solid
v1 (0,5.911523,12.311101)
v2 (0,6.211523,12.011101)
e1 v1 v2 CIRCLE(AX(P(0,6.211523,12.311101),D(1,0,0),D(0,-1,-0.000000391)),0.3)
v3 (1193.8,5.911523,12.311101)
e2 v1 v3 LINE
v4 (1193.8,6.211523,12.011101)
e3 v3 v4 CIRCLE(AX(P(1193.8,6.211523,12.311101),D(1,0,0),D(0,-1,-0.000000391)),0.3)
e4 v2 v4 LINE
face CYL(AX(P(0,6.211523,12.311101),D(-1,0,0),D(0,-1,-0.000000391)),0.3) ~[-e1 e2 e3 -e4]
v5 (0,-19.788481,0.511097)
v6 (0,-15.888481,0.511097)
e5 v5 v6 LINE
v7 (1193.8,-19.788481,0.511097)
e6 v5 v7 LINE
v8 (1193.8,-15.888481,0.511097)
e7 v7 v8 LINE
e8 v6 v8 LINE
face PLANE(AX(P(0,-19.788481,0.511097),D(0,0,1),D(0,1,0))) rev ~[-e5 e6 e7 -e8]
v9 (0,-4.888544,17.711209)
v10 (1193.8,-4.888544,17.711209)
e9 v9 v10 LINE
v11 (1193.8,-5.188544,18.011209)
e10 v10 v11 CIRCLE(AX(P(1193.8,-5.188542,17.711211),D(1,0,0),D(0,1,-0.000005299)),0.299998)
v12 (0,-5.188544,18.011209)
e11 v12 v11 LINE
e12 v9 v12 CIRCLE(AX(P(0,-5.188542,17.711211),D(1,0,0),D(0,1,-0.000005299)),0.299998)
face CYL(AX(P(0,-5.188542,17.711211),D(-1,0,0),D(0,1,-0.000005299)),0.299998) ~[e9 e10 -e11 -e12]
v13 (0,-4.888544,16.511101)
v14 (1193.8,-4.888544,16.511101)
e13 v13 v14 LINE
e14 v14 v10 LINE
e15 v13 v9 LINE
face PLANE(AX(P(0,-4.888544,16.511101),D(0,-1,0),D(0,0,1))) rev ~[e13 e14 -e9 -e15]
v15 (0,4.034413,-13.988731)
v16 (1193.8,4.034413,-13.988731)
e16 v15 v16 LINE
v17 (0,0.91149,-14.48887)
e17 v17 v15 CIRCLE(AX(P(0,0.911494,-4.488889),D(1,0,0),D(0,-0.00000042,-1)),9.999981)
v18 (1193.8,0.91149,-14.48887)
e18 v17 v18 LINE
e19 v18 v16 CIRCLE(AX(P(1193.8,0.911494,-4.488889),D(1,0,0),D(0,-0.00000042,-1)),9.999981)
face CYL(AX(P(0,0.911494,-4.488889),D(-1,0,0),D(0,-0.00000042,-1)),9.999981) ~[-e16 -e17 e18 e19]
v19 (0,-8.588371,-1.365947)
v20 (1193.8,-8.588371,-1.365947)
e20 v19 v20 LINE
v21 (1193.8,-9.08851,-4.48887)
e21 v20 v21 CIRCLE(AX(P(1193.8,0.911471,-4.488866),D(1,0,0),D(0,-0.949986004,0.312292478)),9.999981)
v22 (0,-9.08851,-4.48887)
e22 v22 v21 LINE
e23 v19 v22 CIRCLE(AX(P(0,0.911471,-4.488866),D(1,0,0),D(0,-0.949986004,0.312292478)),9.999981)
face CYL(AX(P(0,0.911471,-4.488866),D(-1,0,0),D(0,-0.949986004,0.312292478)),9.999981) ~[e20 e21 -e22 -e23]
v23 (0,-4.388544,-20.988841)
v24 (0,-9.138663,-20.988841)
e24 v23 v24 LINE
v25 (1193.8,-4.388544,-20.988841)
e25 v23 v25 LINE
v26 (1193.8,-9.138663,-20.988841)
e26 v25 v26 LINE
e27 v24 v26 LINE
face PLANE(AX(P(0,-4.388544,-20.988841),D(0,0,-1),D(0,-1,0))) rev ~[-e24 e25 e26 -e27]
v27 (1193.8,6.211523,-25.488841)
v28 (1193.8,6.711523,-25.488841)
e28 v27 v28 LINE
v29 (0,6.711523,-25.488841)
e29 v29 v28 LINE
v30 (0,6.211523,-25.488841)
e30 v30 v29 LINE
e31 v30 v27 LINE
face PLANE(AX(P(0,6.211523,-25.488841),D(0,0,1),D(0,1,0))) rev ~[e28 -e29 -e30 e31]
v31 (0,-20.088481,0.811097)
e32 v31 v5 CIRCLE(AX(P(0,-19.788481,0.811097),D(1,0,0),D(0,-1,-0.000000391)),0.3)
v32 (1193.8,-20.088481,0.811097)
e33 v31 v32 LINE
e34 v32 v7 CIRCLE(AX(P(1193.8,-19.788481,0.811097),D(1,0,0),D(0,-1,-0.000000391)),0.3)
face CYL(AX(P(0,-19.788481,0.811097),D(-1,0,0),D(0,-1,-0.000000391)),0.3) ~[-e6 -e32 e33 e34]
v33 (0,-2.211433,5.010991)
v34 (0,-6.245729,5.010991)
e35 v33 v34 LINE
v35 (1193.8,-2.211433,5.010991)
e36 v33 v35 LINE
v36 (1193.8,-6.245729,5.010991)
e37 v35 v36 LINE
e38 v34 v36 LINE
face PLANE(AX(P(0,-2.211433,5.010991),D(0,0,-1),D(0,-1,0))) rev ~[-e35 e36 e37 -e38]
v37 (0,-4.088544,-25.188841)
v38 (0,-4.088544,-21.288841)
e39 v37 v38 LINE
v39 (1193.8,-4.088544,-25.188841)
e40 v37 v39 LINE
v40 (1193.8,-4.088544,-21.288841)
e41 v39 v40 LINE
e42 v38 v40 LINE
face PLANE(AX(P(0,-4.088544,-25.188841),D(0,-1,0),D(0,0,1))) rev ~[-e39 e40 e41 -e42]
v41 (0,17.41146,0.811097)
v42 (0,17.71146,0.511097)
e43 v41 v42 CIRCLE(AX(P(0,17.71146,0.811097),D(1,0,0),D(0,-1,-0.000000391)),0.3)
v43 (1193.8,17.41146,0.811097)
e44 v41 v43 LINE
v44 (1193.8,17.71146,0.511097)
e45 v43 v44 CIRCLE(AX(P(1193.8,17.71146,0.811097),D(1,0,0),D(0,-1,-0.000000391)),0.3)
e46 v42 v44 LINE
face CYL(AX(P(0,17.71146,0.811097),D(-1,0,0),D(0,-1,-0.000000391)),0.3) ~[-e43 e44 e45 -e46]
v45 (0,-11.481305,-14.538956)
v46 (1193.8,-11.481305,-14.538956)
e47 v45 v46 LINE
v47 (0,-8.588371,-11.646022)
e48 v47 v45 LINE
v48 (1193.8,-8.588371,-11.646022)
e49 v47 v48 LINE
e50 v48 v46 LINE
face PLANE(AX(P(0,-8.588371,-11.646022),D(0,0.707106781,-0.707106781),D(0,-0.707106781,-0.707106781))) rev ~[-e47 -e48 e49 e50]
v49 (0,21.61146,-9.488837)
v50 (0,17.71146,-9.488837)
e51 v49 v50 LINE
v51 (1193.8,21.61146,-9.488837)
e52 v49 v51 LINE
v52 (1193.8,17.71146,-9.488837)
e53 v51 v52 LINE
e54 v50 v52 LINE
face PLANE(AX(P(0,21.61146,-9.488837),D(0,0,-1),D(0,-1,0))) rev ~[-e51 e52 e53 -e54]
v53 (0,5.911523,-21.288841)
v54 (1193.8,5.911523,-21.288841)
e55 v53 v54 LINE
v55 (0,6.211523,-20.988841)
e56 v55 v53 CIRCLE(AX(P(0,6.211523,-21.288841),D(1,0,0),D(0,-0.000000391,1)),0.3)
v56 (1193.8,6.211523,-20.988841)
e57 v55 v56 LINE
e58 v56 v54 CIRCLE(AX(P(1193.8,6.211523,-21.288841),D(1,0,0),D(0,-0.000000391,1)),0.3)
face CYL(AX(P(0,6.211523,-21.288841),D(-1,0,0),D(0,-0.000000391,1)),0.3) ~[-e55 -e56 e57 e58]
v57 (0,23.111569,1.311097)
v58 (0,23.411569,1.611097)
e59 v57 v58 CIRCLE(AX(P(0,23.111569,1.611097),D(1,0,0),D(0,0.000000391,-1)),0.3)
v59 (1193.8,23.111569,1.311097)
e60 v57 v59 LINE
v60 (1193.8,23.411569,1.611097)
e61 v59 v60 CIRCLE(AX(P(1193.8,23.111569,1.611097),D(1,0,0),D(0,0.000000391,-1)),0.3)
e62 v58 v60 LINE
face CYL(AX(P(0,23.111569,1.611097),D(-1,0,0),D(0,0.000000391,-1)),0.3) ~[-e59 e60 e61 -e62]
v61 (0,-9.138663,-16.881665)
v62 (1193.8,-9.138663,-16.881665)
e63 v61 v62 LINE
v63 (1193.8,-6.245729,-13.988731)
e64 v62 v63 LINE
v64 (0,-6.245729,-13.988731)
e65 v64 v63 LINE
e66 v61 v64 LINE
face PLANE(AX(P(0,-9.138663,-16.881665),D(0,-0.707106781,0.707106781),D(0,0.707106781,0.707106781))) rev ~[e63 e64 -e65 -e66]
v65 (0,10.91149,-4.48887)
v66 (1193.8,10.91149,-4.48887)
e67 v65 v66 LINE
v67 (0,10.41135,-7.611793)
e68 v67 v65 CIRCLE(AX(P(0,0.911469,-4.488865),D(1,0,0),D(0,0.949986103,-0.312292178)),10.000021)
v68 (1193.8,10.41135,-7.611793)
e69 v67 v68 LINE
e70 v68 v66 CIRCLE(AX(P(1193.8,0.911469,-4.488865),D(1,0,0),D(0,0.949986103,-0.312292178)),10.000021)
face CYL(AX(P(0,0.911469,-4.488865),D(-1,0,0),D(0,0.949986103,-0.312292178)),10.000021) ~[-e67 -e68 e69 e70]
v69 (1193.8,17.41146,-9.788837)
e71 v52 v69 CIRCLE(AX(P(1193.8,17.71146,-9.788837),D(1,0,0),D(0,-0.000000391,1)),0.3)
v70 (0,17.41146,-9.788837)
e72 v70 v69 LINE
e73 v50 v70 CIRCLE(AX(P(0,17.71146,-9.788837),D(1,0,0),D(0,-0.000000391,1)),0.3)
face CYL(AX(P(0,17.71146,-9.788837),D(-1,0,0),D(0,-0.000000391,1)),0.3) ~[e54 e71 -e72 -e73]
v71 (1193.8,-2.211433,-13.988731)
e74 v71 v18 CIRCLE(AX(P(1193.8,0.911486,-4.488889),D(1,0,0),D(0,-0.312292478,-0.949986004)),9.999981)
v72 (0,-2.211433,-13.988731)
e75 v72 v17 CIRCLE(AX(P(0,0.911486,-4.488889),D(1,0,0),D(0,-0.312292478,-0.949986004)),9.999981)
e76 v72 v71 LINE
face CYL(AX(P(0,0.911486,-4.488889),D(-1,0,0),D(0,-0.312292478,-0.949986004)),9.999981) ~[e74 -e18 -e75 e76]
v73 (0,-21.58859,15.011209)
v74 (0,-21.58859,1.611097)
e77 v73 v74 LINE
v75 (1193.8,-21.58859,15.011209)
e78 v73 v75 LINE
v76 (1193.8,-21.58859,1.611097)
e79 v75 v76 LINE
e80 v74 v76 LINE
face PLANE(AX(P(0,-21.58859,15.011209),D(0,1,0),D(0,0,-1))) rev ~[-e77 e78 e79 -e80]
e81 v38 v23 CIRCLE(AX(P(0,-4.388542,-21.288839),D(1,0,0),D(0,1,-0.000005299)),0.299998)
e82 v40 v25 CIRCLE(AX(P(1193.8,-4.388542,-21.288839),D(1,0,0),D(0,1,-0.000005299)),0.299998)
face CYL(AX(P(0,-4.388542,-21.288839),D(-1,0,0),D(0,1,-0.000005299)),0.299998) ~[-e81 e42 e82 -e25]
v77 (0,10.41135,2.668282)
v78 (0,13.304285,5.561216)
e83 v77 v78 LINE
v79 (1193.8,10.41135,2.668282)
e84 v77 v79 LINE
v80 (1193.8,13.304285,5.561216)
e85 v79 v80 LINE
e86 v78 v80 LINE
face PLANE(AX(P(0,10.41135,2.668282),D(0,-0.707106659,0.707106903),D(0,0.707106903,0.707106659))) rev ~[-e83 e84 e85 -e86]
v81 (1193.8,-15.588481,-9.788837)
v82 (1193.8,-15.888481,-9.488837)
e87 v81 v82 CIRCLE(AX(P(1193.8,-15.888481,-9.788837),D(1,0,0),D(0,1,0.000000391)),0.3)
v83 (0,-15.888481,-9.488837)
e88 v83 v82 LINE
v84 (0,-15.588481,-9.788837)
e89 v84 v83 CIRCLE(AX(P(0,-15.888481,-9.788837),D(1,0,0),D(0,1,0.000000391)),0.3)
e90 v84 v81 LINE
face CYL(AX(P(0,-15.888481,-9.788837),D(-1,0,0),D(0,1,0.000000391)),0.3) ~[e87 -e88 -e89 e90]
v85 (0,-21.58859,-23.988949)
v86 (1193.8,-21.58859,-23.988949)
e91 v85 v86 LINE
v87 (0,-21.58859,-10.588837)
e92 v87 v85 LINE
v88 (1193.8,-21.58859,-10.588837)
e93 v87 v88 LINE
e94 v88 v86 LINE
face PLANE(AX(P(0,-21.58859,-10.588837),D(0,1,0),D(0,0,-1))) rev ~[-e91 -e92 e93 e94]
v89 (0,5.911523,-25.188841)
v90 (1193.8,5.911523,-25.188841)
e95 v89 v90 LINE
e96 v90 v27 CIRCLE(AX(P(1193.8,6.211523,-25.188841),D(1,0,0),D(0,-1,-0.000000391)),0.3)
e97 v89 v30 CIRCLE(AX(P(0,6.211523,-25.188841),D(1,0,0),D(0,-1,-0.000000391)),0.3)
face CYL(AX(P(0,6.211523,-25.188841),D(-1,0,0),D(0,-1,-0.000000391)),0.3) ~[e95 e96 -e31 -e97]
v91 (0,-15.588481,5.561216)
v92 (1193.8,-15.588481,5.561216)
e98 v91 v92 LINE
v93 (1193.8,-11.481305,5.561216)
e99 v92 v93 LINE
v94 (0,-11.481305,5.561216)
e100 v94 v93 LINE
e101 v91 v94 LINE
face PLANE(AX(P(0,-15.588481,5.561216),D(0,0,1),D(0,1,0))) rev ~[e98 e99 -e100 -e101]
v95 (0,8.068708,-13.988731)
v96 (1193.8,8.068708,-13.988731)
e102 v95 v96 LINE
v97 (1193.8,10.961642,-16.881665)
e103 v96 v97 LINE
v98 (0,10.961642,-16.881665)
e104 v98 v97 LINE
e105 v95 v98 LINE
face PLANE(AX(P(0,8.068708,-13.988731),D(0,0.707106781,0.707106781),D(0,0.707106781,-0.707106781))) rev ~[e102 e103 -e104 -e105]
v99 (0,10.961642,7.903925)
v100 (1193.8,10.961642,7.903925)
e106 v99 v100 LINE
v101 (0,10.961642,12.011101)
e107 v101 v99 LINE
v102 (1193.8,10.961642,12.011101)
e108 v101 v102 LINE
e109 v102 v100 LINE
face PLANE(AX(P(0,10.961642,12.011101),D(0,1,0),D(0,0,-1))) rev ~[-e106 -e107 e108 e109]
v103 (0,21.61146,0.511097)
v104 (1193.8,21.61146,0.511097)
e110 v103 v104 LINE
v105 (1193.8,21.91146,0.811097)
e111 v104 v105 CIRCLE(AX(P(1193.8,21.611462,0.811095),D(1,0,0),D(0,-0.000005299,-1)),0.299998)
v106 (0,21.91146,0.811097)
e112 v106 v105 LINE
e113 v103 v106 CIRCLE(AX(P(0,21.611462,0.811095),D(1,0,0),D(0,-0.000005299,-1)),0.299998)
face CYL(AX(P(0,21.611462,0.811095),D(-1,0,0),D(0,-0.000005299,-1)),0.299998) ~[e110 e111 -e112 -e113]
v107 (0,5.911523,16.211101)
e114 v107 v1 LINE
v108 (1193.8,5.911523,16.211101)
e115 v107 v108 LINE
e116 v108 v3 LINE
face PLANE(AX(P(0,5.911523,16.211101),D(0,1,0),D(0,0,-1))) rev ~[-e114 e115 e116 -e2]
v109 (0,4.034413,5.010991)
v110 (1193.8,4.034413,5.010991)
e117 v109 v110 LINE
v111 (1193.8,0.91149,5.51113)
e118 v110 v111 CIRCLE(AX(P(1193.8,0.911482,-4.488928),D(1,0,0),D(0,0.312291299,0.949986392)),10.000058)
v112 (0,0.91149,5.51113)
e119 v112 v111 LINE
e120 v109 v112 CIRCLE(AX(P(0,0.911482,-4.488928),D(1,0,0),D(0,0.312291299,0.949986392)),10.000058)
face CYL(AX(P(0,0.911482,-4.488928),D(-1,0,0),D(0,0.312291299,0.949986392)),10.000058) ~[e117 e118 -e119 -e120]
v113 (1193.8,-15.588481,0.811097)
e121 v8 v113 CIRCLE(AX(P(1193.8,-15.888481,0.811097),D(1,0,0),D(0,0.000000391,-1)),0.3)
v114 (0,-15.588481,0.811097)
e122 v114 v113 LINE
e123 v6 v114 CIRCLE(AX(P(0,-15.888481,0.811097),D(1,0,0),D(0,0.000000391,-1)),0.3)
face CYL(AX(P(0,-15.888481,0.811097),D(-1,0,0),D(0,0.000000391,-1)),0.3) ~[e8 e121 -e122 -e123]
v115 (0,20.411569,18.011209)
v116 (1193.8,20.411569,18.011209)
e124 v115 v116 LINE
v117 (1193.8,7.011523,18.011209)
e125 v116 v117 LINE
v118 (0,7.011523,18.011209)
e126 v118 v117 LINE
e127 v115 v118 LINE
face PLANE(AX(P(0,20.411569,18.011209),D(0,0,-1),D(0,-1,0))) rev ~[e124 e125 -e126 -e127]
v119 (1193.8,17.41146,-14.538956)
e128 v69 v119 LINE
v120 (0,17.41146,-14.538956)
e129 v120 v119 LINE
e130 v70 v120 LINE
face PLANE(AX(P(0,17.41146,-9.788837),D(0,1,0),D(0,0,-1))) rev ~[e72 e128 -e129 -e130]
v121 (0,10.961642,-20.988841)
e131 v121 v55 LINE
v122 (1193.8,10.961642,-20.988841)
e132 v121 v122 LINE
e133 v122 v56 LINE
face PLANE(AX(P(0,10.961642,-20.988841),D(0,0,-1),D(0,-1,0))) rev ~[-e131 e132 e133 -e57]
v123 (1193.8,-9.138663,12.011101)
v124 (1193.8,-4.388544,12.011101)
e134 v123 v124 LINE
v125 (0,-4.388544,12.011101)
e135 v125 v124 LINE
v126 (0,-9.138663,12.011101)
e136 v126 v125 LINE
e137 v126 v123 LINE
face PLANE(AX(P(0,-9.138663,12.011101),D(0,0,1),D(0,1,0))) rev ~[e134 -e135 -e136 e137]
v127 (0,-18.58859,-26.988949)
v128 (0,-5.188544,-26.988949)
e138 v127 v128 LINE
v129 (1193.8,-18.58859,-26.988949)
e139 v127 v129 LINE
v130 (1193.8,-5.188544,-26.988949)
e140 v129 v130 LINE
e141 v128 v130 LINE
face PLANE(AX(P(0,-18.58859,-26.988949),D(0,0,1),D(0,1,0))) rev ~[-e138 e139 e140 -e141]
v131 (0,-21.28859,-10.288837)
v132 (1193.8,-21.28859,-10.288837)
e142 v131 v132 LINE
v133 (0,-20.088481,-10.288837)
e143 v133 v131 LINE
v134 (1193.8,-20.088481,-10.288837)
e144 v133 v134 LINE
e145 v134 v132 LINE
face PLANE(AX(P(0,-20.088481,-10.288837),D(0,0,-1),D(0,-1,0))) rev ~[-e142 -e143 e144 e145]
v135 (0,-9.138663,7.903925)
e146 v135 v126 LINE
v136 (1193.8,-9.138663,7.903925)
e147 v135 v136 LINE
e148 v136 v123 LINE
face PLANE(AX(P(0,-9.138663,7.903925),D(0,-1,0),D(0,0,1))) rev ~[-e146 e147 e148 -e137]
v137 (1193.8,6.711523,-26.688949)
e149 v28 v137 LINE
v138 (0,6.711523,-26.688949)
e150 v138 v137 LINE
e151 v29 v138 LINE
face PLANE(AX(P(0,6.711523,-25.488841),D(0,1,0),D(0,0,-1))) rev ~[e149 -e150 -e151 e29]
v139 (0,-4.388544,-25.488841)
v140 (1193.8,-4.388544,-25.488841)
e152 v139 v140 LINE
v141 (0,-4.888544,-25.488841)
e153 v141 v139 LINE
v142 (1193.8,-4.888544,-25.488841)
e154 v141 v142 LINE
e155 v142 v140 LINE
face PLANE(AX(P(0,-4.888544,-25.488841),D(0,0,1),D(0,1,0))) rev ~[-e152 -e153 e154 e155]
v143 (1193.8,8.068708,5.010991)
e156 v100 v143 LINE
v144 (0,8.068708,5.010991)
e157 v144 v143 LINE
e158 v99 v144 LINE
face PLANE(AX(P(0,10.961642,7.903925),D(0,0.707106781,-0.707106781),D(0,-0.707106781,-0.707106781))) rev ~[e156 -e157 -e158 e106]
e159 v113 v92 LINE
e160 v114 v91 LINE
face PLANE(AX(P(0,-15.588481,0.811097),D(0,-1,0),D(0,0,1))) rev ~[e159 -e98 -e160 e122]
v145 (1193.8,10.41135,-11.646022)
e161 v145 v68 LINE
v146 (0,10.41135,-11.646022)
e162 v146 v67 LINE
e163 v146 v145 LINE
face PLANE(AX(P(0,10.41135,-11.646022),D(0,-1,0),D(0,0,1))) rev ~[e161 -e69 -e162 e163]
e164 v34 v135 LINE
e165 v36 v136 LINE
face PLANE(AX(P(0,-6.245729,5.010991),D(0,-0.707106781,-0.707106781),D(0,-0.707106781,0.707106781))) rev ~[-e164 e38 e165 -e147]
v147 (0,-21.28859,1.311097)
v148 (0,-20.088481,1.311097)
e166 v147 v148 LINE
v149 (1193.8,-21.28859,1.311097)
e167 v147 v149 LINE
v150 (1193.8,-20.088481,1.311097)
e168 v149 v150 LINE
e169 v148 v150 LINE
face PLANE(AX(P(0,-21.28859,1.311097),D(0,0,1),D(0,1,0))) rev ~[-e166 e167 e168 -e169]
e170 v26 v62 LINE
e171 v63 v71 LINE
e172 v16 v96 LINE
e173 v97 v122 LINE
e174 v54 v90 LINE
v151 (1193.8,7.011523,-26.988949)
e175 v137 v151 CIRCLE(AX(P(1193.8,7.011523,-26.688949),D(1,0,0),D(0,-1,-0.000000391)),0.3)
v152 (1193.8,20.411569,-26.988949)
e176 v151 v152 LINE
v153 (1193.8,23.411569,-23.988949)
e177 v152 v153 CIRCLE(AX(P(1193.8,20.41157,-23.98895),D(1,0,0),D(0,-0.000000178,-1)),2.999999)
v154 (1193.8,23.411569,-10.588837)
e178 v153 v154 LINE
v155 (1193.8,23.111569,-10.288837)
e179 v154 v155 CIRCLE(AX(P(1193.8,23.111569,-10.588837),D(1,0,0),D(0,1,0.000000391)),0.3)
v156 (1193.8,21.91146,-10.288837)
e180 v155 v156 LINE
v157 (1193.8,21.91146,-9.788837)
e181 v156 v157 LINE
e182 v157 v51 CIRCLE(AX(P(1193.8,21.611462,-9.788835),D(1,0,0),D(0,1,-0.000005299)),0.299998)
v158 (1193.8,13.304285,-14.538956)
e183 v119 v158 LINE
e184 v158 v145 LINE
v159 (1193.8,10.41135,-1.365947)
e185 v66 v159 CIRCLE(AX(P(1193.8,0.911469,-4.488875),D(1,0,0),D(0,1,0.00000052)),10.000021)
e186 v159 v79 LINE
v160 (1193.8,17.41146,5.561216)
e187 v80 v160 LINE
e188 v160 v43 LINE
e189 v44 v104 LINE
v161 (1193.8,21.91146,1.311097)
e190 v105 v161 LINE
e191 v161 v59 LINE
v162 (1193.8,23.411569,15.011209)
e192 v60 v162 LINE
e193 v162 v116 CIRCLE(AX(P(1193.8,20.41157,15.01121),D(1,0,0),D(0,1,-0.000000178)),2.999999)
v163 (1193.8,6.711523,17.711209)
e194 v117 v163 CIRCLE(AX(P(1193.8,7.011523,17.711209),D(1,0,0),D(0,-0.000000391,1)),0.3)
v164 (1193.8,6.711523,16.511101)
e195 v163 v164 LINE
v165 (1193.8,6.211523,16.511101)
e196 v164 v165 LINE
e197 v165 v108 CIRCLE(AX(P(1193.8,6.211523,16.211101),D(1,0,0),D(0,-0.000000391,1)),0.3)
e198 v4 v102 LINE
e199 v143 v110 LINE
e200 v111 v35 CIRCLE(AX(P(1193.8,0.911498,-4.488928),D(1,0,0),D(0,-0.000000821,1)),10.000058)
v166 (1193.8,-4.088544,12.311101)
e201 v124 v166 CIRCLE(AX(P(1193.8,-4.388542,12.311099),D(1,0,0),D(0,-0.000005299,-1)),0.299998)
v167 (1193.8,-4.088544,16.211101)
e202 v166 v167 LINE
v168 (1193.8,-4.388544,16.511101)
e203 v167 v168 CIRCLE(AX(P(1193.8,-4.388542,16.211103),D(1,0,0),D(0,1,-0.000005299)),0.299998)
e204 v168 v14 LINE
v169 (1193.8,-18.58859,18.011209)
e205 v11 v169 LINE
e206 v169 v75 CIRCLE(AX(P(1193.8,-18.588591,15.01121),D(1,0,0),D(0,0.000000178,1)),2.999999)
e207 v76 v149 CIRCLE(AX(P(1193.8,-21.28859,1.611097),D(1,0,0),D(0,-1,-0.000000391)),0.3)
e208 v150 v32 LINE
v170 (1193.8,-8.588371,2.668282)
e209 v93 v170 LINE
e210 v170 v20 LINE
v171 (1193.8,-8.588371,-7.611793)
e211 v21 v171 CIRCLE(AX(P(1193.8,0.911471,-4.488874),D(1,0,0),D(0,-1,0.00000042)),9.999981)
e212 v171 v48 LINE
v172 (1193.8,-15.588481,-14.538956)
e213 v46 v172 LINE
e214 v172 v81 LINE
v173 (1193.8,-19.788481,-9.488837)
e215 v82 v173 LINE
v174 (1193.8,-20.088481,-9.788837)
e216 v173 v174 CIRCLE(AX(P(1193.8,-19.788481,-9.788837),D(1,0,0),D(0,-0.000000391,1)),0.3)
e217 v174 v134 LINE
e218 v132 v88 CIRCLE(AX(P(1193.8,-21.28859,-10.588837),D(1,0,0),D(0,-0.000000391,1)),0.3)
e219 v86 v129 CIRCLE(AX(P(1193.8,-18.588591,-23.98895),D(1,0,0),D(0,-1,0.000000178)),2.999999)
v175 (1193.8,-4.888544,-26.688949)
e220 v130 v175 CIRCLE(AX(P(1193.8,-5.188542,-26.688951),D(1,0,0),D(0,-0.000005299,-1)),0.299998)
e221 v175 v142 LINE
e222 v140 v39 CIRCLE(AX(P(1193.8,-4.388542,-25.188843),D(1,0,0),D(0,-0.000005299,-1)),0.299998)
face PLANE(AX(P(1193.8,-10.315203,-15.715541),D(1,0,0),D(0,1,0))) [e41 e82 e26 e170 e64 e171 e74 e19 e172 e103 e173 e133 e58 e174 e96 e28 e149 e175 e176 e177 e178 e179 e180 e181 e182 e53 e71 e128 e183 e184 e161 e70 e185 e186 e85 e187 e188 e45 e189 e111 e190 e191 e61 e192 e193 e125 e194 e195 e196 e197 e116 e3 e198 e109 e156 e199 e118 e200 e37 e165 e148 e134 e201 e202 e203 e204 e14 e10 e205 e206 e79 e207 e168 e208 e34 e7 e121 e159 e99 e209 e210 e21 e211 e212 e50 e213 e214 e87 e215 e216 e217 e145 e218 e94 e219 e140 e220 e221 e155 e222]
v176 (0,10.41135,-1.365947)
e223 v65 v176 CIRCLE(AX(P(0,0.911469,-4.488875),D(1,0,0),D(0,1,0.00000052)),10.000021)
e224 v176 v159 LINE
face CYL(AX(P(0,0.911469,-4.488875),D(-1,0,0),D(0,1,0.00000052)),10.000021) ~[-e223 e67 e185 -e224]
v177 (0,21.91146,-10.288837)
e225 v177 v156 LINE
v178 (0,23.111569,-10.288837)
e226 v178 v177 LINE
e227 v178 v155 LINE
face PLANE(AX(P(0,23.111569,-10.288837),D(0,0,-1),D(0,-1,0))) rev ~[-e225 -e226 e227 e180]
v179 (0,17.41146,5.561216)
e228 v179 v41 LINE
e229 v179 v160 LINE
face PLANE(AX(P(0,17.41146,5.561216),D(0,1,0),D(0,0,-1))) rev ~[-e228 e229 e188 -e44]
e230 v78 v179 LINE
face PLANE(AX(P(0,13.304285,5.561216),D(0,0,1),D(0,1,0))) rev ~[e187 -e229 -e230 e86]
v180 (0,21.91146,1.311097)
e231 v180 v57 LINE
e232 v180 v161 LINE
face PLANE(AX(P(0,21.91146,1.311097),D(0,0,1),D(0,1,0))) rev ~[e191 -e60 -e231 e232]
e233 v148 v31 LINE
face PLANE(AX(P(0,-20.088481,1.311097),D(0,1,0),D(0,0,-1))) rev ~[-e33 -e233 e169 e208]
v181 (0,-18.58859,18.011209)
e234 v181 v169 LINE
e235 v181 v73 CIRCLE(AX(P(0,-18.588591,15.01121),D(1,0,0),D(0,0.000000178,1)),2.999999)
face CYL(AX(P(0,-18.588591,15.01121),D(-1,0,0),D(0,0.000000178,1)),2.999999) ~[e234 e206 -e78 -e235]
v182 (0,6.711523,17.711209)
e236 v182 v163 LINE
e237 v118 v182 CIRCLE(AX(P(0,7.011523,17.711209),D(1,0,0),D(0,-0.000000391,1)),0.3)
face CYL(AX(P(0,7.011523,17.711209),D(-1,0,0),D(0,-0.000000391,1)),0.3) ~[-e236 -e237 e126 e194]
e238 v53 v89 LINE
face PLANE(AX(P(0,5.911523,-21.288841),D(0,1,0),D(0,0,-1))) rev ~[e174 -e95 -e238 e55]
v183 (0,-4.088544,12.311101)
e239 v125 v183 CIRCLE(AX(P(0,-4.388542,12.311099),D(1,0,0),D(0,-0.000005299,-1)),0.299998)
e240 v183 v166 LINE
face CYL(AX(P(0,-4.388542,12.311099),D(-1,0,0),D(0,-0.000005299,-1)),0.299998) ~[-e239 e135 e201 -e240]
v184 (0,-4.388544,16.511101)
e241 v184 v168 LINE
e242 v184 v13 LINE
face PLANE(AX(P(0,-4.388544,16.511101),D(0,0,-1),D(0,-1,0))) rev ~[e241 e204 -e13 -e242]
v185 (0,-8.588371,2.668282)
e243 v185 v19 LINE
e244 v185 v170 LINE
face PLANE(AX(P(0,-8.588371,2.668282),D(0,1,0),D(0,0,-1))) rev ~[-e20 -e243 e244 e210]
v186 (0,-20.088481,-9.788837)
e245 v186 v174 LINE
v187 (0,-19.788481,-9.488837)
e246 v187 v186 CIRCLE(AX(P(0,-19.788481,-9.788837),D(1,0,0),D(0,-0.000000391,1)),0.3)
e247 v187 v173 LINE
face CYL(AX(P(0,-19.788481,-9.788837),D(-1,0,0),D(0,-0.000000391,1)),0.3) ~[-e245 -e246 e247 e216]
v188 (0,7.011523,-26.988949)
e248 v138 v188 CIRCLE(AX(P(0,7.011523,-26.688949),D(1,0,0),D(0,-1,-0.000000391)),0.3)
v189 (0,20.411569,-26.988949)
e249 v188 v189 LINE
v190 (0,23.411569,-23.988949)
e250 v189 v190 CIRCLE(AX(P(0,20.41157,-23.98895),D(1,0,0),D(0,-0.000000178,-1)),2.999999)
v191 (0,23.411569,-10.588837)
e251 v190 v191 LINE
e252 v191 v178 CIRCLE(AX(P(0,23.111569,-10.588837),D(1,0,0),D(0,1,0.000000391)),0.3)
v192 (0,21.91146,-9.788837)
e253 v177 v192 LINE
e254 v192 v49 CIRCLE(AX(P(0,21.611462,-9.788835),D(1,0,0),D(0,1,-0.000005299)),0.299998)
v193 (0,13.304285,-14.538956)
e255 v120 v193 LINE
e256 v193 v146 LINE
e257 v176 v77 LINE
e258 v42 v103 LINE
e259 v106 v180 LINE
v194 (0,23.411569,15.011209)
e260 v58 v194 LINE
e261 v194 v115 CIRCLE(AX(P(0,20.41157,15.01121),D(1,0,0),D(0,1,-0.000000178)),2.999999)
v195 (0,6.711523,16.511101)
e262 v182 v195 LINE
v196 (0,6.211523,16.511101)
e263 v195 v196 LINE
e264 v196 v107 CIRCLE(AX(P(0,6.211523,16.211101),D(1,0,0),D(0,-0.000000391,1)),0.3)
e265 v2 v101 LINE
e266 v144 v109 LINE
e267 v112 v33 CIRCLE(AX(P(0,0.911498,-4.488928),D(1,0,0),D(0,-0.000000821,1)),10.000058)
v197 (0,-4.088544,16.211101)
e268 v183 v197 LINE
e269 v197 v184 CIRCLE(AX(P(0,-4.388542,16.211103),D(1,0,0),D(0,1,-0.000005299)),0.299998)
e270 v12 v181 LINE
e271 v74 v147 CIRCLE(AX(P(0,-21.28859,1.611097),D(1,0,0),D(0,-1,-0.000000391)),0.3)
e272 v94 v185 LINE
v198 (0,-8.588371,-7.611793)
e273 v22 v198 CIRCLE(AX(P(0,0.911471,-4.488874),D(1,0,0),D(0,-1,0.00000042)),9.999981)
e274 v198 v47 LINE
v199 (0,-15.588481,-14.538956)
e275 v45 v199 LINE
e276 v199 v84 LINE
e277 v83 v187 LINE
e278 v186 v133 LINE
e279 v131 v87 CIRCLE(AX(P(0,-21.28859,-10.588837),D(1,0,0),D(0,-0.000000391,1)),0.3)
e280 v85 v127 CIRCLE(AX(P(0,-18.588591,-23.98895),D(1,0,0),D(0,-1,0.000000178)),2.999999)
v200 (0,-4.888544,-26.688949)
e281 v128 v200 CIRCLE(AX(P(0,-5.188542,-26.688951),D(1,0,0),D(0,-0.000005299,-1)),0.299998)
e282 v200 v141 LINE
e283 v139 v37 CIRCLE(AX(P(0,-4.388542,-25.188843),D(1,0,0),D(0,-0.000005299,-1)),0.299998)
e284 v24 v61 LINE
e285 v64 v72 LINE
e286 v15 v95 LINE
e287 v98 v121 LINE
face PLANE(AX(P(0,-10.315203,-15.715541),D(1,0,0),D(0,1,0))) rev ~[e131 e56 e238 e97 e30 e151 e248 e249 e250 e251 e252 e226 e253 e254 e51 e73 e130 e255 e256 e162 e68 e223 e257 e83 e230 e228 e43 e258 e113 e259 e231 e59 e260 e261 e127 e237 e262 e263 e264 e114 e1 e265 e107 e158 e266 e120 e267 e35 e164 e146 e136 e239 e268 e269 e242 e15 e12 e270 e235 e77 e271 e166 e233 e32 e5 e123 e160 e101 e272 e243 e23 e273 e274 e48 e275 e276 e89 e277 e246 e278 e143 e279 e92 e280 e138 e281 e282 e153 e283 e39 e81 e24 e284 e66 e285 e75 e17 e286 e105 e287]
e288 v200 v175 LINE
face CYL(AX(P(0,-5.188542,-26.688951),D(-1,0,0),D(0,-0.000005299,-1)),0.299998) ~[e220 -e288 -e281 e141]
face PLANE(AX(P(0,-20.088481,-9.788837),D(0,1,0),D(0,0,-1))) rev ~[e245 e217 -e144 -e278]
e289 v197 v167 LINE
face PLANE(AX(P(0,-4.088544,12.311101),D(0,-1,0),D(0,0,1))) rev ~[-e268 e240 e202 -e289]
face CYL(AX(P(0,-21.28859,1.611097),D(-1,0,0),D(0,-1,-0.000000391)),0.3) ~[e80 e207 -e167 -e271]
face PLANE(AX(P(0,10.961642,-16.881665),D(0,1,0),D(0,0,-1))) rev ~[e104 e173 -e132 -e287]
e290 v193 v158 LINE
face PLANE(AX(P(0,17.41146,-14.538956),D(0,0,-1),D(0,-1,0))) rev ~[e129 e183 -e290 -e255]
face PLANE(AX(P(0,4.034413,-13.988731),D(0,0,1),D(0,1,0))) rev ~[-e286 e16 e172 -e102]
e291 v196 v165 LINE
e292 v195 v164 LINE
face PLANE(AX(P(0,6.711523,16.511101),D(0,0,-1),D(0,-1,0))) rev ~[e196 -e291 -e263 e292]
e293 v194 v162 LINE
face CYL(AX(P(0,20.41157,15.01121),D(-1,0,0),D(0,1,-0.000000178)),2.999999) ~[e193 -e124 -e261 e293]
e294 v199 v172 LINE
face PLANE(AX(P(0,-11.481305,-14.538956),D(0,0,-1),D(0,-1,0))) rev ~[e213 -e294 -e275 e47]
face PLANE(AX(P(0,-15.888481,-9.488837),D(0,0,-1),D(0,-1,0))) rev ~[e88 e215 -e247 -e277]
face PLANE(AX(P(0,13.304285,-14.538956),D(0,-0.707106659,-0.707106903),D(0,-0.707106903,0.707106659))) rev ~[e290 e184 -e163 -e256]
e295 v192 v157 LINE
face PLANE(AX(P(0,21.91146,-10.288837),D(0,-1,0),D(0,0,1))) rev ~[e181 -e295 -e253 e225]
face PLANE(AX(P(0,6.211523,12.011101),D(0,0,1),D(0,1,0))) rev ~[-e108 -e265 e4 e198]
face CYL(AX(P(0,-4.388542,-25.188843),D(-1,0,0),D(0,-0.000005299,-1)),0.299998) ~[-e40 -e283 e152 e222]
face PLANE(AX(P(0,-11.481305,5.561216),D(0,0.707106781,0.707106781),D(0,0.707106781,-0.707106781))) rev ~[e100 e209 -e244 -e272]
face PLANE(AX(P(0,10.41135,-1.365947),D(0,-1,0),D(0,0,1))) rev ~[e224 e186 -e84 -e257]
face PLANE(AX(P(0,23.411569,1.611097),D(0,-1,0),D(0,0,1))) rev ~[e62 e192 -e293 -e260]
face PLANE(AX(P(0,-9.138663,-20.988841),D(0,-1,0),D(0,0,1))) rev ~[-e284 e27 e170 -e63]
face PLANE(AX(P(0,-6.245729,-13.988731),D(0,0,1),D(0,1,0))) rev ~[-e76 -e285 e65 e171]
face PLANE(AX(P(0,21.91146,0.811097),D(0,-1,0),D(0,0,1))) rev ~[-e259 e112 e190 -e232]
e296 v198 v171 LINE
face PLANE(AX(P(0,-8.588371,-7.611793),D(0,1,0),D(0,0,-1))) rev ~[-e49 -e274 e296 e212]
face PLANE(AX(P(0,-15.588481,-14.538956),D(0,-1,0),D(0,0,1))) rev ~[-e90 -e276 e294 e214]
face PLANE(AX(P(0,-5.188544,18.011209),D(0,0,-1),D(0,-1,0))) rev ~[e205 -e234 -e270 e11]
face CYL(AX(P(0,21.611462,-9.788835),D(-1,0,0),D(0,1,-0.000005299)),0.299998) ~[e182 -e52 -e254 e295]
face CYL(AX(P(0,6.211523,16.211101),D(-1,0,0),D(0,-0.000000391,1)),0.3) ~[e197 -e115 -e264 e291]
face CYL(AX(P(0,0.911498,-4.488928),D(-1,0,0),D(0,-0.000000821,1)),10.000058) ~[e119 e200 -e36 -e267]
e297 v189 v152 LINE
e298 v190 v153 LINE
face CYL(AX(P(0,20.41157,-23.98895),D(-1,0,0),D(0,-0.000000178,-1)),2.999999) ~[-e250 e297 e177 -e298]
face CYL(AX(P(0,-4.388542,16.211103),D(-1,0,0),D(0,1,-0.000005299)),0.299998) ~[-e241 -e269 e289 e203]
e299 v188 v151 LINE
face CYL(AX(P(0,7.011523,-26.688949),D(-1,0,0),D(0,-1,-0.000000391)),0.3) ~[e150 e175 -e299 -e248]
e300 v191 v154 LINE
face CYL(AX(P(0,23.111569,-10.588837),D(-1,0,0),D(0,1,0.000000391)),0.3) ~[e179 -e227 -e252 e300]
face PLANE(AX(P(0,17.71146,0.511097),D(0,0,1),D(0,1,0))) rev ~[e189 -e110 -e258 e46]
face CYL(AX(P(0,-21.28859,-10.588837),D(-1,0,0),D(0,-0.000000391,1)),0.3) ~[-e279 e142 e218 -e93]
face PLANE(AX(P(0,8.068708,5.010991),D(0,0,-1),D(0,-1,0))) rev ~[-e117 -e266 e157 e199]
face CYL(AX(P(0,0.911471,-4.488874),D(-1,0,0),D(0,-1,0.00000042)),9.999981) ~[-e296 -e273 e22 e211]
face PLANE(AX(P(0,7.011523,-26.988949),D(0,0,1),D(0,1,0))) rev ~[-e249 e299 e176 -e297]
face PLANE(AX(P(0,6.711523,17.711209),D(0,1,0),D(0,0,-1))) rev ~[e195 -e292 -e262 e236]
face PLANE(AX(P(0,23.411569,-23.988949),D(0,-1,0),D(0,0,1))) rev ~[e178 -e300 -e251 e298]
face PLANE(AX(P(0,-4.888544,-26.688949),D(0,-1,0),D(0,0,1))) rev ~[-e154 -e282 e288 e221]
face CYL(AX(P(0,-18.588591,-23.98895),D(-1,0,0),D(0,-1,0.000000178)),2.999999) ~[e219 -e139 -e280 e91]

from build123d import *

# Parameters (mm, degrees)
F1_DEPTH = 1193.8


with BuildPart() as f1:
    # F0 (on Right) → F1 (new body)
    with BuildSketch(Plane.YZ):
        with BuildLine():
            Line((-20.088481, -9.788837), (-20.088481, -10.288837))
            Line((-20.088481, -10.288837), (-21.28859, -10.288837))
            ThreePointArc((-21.28859, -10.288837), (-21.500722, -10.376705), (-21.58859, -10.588837))
            Line((-21.58859, -10.588837), (-21.58859, -23.988949))
            ThreePointArc((-21.58859, -23.988949), (-20.70991, -26.11027), (-18.58859, -26.988949))
            Line((-18.58859, -26.988949), (-5.188544, -26.988949))
            ThreePointArc((-5.188544, -26.988949), (-4.976411, -26.901081), (-4.888544, -26.688949))
            Line((-4.888544, -26.688949), (-4.888544, -25.488841))
            Line((-4.888544, -25.488841), (-4.388544, -25.488841))
            ThreePointArc((-4.388544, -25.488841), (-4.176411, -25.400973), (-4.088544, -25.188841))
            Line((-4.088544, -25.188841), (-4.088544, -21.288841))
            ThreePointArc((-4.088544, -21.288841), (-4.176411, -21.076709), (-4.388544, -20.988841))
            Line((-4.388544, -20.988841), (-9.138663, -20.988841))
            Line((-9.138663, -20.988841), (-9.138663, -16.881665))
            Line((-9.138663, -16.881665), (-6.245729, -13.988731))
            Line((-6.245729, -13.988731), (-2.211433, -13.988731))
            ThreePointArc((-2.211433, -13.988731), (-0.669869, -14.363044), (0.91149, -14.48887))
            Line((0.91149, -14.48887), (0.91149, -4.48887))
            Line((0.91149, -4.48887), (-9.08851, -4.48887))
            ThreePointArc((-9.08851, -4.48887), (-8.962684, -6.070229), (-8.588371, -7.611793))
            Line((-8.588371, -7.611793), (-8.588371, -11.646022))
            Line((-8.588371, -11.646022), (-11.481305, -14.538956))
            Line((-11.481305, -14.538956), (-15.588481, -14.538956))
            Line((-15.588481, -14.538956), (-15.588481, -9.788837))
            ThreePointArc((-15.588481, -9.788837), (-15.676349, -9.576705), (-15.888481, -9.488837))
            Line((-15.888481, -9.488837), (-19.788481, -9.488837))
            ThreePointArc((-19.788481, -9.488837), (-20.000613, -9.576705), (-20.088481, -9.788837))
        make_face()
        with BuildLine():
            ThreePointArc((-8.588371, -1.365947), (-8.962684, -2.907511), (-9.08851, -4.48887))
            Line((-9.08851, -4.48887), (0.91149, -4.48887))
            Line((0.91149, -4.48887), (0.91149, 5.51113))
            ThreePointArc((0.91149, 5.51113), (-0.669869, 5.385303), (-2.211433, 5.010991))
            Line((-2.211433, 5.010991), (-6.245729, 5.010991))
            Line((-6.245729, 5.010991), (-9.138663, 7.903925))
            Line((-9.138663, 7.903925), (-9.138663, 12.011101))
            Line((-9.138663, 12.011101), (-4.388544, 12.011101))
            ThreePointArc((-4.388544, 12.011101), (-4.176411, 12.098969), (-4.088544, 12.311101))
            Line((-4.088544, 12.311101), (-4.088544, 16.211101))
            ThreePointArc((-4.088544, 16.211101), (-4.176411, 16.423233), (-4.388544, 16.511101))
            Line((-4.388544, 16.511101), (-4.888544, 16.511101))
            Line((-4.888544, 16.511101), (-4.888544, 17.711209))
            ThreePointArc((-4.888544, 17.711209), (-4.976411, 17.923341), (-5.188544, 18.011209))
            Line((-5.188544, 18.011209), (-18.58859, 18.011209))
            ThreePointArc((-18.58859, 18.011209), (-20.70991, 17.13253), (-21.58859, 15.011209))
            Line((-21.58859, 15.011209), (-21.58859, 1.611097))
            ThreePointArc((-21.58859, 1.611097), (-21.500722, 1.398965), (-21.28859, 1.311097))
            Line((-21.28859, 1.311097), (-20.088481, 1.311097))
            Line((-20.088481, 1.311097), (-20.088481, 0.811097))
            ThreePointArc((-20.088481, 0.811097), (-20.000613, 0.598965), (-19.788481, 0.511097))
            Line((-19.788481, 0.511097), (-15.888481, 0.511097))
            ThreePointArc((-15.888481, 0.511097), (-15.676349, 0.598965), (-15.588481, 0.811097))
            Line((-15.588481, 0.811097), (-15.588481, 5.561216))
            Line((-15.588481, 5.561216), (-11.481305, 5.561216))
            Line((-11.481305, 5.561216), (-8.588371, 2.668282))
            Line((-8.588371, 2.668282), (-8.588371, -1.365947))
        make_face()
        with BuildLine():
            Line((0.91149, 5.51113), (0.91149, -4.48887))
            Line((0.91149, -4.48887), (10.91149, -4.48887))
            ThreePointArc((10.91149, -4.48887), (10.785663, -2.907511), (10.41135, -1.365947))
            Line((10.41135, -1.365947), (10.41135, 2.668282))
            Line((10.41135, 2.668282), (13.304285, 5.561216))
            Line((13.304285, 5.561216), (14.016842, 5.561216))
            Line((14.016842, 5.561216), (17.41146, 5.561216))
            Line((17.41146, 5.561216), (17.41146, 0.811097))
            ThreePointArc((17.41146, 0.811097), (17.499328, 0.598965), (17.71146, 0.511097))
            Line((17.71146, 0.511097), (21.61146, 0.511097))
            ThreePointArc((21.61146, 0.511097), (21.823593, 0.598965), (21.91146, 0.811097))
            Line((21.91146, 0.811097), (21.91146, 1.311097))
            Line((21.91146, 1.311097), (23.111569, 1.311097))
            ThreePointArc((23.111569, 1.311097), (23.323701, 1.398965), (23.411569, 1.611097))
            Line((23.411569, 1.611097), (23.411569, 15.011209))
            ThreePointArc((23.411569, 15.011209), (22.532889, 17.13253), (20.411569, 18.011209))
            Line((20.411569, 18.011209), (7.011523, 18.011209))
            ThreePointArc((7.011523, 18.011209), (6.799391, 17.923341), (6.711523, 17.711209))
            Line((6.711523, 17.711209), (6.711523, 16.511101))
            Line((6.711523, 16.511101), (6.211523, 16.511101))
            ThreePointArc((6.211523, 16.511101), (5.999391, 16.423233), (5.911523, 16.211101))
            Line((5.911523, 16.211101), (5.911523, 12.311101))
            ThreePointArc((5.911523, 12.311101), (5.999391, 12.098969), (6.211523, 12.011101))
            Line((6.211523, 12.011101), (10.961642, 12.011101))
            Line((10.961642, 12.011101), (10.961642, 7.903925))
            Line((10.961642, 7.903925), (8.068708, 5.010991))
            Line((8.068708, 5.010991), (4.034413, 5.010991))
            ThreePointArc((4.034413, 5.010991), (2.492849, 5.385303), (0.91149, 5.51113))
        make_face()
        with BuildLine():
            Line((10.91149, -4.48887), (0.91149, -4.48887))
            Line((0.91149, -4.48887), (0.91149, -14.48887))
            ThreePointArc((0.91149, -14.48887), (2.492849, -14.363044), (4.034413, -13.988731))
            Line((4.034413, -13.988731), (8.068708, -13.988731))
            Line((8.068708, -13.988731), (10.961642, -16.881665))
            Line((10.961642, -16.881665), (10.961642, -20.988841))
            Line((10.961642, -20.988841), (6.211523, -20.988841))
            ThreePointArc((6.211523, -20.988841), (5.999391, -21.076709), (5.911523, -21.288841))
            Line((5.911523, -21.288841), (5.911523, -25.188841))
            ThreePointArc((5.911523, -25.188841), (5.999391, -25.400973), (6.211523, -25.488841))
            Line((6.211523, -25.488841), (6.711523, -25.488841))
            Line((6.711523, -25.488841), (6.711523, -26.688949))
            ThreePointArc((6.711523, -26.688949), (6.799391, -26.901081), (7.011523, -26.988949))
            Line((7.011523, -26.988949), (20.411569, -26.988949))
            ThreePointArc((20.411569, -26.988949), (22.532889, -26.11027), (23.411569, -23.988949))
            Line((23.411569, -23.988949), (23.411569, -10.588837))
            ThreePointArc((23.411569, -10.588837), (23.323701, -10.376705), (23.111569, -10.288837))
            Line((23.111569, -10.288837), (21.91146, -10.288837))
            Line((21.91146, -10.288837), (21.91146, -9.788837))
            ThreePointArc((21.91146, -9.788837), (21.823593, -9.576705), (21.61146, -9.488837))
            Line((21.61146, -9.488837), (17.71146, -9.488837))
            ThreePointArc((17.71146, -9.488837), (17.499328, -9.576705), (17.41146, -9.788837))
            Line((17.41146, -9.788837), (17.41146, -14.538956))
            Line((17.41146, -14.538956), (13.304285, -14.538956))
            Line((13.304285, -14.538956), (10.41135, -11.646022))
            Line((10.41135, -11.646022), (10.41135, -7.611793))
            ThreePointArc((10.41135, -7.611793), (10.785663, -6.070229), (10.91149, -4.48887))
        make_face()
    extrude(amount=F1_DEPTH)


solid = f1.part
